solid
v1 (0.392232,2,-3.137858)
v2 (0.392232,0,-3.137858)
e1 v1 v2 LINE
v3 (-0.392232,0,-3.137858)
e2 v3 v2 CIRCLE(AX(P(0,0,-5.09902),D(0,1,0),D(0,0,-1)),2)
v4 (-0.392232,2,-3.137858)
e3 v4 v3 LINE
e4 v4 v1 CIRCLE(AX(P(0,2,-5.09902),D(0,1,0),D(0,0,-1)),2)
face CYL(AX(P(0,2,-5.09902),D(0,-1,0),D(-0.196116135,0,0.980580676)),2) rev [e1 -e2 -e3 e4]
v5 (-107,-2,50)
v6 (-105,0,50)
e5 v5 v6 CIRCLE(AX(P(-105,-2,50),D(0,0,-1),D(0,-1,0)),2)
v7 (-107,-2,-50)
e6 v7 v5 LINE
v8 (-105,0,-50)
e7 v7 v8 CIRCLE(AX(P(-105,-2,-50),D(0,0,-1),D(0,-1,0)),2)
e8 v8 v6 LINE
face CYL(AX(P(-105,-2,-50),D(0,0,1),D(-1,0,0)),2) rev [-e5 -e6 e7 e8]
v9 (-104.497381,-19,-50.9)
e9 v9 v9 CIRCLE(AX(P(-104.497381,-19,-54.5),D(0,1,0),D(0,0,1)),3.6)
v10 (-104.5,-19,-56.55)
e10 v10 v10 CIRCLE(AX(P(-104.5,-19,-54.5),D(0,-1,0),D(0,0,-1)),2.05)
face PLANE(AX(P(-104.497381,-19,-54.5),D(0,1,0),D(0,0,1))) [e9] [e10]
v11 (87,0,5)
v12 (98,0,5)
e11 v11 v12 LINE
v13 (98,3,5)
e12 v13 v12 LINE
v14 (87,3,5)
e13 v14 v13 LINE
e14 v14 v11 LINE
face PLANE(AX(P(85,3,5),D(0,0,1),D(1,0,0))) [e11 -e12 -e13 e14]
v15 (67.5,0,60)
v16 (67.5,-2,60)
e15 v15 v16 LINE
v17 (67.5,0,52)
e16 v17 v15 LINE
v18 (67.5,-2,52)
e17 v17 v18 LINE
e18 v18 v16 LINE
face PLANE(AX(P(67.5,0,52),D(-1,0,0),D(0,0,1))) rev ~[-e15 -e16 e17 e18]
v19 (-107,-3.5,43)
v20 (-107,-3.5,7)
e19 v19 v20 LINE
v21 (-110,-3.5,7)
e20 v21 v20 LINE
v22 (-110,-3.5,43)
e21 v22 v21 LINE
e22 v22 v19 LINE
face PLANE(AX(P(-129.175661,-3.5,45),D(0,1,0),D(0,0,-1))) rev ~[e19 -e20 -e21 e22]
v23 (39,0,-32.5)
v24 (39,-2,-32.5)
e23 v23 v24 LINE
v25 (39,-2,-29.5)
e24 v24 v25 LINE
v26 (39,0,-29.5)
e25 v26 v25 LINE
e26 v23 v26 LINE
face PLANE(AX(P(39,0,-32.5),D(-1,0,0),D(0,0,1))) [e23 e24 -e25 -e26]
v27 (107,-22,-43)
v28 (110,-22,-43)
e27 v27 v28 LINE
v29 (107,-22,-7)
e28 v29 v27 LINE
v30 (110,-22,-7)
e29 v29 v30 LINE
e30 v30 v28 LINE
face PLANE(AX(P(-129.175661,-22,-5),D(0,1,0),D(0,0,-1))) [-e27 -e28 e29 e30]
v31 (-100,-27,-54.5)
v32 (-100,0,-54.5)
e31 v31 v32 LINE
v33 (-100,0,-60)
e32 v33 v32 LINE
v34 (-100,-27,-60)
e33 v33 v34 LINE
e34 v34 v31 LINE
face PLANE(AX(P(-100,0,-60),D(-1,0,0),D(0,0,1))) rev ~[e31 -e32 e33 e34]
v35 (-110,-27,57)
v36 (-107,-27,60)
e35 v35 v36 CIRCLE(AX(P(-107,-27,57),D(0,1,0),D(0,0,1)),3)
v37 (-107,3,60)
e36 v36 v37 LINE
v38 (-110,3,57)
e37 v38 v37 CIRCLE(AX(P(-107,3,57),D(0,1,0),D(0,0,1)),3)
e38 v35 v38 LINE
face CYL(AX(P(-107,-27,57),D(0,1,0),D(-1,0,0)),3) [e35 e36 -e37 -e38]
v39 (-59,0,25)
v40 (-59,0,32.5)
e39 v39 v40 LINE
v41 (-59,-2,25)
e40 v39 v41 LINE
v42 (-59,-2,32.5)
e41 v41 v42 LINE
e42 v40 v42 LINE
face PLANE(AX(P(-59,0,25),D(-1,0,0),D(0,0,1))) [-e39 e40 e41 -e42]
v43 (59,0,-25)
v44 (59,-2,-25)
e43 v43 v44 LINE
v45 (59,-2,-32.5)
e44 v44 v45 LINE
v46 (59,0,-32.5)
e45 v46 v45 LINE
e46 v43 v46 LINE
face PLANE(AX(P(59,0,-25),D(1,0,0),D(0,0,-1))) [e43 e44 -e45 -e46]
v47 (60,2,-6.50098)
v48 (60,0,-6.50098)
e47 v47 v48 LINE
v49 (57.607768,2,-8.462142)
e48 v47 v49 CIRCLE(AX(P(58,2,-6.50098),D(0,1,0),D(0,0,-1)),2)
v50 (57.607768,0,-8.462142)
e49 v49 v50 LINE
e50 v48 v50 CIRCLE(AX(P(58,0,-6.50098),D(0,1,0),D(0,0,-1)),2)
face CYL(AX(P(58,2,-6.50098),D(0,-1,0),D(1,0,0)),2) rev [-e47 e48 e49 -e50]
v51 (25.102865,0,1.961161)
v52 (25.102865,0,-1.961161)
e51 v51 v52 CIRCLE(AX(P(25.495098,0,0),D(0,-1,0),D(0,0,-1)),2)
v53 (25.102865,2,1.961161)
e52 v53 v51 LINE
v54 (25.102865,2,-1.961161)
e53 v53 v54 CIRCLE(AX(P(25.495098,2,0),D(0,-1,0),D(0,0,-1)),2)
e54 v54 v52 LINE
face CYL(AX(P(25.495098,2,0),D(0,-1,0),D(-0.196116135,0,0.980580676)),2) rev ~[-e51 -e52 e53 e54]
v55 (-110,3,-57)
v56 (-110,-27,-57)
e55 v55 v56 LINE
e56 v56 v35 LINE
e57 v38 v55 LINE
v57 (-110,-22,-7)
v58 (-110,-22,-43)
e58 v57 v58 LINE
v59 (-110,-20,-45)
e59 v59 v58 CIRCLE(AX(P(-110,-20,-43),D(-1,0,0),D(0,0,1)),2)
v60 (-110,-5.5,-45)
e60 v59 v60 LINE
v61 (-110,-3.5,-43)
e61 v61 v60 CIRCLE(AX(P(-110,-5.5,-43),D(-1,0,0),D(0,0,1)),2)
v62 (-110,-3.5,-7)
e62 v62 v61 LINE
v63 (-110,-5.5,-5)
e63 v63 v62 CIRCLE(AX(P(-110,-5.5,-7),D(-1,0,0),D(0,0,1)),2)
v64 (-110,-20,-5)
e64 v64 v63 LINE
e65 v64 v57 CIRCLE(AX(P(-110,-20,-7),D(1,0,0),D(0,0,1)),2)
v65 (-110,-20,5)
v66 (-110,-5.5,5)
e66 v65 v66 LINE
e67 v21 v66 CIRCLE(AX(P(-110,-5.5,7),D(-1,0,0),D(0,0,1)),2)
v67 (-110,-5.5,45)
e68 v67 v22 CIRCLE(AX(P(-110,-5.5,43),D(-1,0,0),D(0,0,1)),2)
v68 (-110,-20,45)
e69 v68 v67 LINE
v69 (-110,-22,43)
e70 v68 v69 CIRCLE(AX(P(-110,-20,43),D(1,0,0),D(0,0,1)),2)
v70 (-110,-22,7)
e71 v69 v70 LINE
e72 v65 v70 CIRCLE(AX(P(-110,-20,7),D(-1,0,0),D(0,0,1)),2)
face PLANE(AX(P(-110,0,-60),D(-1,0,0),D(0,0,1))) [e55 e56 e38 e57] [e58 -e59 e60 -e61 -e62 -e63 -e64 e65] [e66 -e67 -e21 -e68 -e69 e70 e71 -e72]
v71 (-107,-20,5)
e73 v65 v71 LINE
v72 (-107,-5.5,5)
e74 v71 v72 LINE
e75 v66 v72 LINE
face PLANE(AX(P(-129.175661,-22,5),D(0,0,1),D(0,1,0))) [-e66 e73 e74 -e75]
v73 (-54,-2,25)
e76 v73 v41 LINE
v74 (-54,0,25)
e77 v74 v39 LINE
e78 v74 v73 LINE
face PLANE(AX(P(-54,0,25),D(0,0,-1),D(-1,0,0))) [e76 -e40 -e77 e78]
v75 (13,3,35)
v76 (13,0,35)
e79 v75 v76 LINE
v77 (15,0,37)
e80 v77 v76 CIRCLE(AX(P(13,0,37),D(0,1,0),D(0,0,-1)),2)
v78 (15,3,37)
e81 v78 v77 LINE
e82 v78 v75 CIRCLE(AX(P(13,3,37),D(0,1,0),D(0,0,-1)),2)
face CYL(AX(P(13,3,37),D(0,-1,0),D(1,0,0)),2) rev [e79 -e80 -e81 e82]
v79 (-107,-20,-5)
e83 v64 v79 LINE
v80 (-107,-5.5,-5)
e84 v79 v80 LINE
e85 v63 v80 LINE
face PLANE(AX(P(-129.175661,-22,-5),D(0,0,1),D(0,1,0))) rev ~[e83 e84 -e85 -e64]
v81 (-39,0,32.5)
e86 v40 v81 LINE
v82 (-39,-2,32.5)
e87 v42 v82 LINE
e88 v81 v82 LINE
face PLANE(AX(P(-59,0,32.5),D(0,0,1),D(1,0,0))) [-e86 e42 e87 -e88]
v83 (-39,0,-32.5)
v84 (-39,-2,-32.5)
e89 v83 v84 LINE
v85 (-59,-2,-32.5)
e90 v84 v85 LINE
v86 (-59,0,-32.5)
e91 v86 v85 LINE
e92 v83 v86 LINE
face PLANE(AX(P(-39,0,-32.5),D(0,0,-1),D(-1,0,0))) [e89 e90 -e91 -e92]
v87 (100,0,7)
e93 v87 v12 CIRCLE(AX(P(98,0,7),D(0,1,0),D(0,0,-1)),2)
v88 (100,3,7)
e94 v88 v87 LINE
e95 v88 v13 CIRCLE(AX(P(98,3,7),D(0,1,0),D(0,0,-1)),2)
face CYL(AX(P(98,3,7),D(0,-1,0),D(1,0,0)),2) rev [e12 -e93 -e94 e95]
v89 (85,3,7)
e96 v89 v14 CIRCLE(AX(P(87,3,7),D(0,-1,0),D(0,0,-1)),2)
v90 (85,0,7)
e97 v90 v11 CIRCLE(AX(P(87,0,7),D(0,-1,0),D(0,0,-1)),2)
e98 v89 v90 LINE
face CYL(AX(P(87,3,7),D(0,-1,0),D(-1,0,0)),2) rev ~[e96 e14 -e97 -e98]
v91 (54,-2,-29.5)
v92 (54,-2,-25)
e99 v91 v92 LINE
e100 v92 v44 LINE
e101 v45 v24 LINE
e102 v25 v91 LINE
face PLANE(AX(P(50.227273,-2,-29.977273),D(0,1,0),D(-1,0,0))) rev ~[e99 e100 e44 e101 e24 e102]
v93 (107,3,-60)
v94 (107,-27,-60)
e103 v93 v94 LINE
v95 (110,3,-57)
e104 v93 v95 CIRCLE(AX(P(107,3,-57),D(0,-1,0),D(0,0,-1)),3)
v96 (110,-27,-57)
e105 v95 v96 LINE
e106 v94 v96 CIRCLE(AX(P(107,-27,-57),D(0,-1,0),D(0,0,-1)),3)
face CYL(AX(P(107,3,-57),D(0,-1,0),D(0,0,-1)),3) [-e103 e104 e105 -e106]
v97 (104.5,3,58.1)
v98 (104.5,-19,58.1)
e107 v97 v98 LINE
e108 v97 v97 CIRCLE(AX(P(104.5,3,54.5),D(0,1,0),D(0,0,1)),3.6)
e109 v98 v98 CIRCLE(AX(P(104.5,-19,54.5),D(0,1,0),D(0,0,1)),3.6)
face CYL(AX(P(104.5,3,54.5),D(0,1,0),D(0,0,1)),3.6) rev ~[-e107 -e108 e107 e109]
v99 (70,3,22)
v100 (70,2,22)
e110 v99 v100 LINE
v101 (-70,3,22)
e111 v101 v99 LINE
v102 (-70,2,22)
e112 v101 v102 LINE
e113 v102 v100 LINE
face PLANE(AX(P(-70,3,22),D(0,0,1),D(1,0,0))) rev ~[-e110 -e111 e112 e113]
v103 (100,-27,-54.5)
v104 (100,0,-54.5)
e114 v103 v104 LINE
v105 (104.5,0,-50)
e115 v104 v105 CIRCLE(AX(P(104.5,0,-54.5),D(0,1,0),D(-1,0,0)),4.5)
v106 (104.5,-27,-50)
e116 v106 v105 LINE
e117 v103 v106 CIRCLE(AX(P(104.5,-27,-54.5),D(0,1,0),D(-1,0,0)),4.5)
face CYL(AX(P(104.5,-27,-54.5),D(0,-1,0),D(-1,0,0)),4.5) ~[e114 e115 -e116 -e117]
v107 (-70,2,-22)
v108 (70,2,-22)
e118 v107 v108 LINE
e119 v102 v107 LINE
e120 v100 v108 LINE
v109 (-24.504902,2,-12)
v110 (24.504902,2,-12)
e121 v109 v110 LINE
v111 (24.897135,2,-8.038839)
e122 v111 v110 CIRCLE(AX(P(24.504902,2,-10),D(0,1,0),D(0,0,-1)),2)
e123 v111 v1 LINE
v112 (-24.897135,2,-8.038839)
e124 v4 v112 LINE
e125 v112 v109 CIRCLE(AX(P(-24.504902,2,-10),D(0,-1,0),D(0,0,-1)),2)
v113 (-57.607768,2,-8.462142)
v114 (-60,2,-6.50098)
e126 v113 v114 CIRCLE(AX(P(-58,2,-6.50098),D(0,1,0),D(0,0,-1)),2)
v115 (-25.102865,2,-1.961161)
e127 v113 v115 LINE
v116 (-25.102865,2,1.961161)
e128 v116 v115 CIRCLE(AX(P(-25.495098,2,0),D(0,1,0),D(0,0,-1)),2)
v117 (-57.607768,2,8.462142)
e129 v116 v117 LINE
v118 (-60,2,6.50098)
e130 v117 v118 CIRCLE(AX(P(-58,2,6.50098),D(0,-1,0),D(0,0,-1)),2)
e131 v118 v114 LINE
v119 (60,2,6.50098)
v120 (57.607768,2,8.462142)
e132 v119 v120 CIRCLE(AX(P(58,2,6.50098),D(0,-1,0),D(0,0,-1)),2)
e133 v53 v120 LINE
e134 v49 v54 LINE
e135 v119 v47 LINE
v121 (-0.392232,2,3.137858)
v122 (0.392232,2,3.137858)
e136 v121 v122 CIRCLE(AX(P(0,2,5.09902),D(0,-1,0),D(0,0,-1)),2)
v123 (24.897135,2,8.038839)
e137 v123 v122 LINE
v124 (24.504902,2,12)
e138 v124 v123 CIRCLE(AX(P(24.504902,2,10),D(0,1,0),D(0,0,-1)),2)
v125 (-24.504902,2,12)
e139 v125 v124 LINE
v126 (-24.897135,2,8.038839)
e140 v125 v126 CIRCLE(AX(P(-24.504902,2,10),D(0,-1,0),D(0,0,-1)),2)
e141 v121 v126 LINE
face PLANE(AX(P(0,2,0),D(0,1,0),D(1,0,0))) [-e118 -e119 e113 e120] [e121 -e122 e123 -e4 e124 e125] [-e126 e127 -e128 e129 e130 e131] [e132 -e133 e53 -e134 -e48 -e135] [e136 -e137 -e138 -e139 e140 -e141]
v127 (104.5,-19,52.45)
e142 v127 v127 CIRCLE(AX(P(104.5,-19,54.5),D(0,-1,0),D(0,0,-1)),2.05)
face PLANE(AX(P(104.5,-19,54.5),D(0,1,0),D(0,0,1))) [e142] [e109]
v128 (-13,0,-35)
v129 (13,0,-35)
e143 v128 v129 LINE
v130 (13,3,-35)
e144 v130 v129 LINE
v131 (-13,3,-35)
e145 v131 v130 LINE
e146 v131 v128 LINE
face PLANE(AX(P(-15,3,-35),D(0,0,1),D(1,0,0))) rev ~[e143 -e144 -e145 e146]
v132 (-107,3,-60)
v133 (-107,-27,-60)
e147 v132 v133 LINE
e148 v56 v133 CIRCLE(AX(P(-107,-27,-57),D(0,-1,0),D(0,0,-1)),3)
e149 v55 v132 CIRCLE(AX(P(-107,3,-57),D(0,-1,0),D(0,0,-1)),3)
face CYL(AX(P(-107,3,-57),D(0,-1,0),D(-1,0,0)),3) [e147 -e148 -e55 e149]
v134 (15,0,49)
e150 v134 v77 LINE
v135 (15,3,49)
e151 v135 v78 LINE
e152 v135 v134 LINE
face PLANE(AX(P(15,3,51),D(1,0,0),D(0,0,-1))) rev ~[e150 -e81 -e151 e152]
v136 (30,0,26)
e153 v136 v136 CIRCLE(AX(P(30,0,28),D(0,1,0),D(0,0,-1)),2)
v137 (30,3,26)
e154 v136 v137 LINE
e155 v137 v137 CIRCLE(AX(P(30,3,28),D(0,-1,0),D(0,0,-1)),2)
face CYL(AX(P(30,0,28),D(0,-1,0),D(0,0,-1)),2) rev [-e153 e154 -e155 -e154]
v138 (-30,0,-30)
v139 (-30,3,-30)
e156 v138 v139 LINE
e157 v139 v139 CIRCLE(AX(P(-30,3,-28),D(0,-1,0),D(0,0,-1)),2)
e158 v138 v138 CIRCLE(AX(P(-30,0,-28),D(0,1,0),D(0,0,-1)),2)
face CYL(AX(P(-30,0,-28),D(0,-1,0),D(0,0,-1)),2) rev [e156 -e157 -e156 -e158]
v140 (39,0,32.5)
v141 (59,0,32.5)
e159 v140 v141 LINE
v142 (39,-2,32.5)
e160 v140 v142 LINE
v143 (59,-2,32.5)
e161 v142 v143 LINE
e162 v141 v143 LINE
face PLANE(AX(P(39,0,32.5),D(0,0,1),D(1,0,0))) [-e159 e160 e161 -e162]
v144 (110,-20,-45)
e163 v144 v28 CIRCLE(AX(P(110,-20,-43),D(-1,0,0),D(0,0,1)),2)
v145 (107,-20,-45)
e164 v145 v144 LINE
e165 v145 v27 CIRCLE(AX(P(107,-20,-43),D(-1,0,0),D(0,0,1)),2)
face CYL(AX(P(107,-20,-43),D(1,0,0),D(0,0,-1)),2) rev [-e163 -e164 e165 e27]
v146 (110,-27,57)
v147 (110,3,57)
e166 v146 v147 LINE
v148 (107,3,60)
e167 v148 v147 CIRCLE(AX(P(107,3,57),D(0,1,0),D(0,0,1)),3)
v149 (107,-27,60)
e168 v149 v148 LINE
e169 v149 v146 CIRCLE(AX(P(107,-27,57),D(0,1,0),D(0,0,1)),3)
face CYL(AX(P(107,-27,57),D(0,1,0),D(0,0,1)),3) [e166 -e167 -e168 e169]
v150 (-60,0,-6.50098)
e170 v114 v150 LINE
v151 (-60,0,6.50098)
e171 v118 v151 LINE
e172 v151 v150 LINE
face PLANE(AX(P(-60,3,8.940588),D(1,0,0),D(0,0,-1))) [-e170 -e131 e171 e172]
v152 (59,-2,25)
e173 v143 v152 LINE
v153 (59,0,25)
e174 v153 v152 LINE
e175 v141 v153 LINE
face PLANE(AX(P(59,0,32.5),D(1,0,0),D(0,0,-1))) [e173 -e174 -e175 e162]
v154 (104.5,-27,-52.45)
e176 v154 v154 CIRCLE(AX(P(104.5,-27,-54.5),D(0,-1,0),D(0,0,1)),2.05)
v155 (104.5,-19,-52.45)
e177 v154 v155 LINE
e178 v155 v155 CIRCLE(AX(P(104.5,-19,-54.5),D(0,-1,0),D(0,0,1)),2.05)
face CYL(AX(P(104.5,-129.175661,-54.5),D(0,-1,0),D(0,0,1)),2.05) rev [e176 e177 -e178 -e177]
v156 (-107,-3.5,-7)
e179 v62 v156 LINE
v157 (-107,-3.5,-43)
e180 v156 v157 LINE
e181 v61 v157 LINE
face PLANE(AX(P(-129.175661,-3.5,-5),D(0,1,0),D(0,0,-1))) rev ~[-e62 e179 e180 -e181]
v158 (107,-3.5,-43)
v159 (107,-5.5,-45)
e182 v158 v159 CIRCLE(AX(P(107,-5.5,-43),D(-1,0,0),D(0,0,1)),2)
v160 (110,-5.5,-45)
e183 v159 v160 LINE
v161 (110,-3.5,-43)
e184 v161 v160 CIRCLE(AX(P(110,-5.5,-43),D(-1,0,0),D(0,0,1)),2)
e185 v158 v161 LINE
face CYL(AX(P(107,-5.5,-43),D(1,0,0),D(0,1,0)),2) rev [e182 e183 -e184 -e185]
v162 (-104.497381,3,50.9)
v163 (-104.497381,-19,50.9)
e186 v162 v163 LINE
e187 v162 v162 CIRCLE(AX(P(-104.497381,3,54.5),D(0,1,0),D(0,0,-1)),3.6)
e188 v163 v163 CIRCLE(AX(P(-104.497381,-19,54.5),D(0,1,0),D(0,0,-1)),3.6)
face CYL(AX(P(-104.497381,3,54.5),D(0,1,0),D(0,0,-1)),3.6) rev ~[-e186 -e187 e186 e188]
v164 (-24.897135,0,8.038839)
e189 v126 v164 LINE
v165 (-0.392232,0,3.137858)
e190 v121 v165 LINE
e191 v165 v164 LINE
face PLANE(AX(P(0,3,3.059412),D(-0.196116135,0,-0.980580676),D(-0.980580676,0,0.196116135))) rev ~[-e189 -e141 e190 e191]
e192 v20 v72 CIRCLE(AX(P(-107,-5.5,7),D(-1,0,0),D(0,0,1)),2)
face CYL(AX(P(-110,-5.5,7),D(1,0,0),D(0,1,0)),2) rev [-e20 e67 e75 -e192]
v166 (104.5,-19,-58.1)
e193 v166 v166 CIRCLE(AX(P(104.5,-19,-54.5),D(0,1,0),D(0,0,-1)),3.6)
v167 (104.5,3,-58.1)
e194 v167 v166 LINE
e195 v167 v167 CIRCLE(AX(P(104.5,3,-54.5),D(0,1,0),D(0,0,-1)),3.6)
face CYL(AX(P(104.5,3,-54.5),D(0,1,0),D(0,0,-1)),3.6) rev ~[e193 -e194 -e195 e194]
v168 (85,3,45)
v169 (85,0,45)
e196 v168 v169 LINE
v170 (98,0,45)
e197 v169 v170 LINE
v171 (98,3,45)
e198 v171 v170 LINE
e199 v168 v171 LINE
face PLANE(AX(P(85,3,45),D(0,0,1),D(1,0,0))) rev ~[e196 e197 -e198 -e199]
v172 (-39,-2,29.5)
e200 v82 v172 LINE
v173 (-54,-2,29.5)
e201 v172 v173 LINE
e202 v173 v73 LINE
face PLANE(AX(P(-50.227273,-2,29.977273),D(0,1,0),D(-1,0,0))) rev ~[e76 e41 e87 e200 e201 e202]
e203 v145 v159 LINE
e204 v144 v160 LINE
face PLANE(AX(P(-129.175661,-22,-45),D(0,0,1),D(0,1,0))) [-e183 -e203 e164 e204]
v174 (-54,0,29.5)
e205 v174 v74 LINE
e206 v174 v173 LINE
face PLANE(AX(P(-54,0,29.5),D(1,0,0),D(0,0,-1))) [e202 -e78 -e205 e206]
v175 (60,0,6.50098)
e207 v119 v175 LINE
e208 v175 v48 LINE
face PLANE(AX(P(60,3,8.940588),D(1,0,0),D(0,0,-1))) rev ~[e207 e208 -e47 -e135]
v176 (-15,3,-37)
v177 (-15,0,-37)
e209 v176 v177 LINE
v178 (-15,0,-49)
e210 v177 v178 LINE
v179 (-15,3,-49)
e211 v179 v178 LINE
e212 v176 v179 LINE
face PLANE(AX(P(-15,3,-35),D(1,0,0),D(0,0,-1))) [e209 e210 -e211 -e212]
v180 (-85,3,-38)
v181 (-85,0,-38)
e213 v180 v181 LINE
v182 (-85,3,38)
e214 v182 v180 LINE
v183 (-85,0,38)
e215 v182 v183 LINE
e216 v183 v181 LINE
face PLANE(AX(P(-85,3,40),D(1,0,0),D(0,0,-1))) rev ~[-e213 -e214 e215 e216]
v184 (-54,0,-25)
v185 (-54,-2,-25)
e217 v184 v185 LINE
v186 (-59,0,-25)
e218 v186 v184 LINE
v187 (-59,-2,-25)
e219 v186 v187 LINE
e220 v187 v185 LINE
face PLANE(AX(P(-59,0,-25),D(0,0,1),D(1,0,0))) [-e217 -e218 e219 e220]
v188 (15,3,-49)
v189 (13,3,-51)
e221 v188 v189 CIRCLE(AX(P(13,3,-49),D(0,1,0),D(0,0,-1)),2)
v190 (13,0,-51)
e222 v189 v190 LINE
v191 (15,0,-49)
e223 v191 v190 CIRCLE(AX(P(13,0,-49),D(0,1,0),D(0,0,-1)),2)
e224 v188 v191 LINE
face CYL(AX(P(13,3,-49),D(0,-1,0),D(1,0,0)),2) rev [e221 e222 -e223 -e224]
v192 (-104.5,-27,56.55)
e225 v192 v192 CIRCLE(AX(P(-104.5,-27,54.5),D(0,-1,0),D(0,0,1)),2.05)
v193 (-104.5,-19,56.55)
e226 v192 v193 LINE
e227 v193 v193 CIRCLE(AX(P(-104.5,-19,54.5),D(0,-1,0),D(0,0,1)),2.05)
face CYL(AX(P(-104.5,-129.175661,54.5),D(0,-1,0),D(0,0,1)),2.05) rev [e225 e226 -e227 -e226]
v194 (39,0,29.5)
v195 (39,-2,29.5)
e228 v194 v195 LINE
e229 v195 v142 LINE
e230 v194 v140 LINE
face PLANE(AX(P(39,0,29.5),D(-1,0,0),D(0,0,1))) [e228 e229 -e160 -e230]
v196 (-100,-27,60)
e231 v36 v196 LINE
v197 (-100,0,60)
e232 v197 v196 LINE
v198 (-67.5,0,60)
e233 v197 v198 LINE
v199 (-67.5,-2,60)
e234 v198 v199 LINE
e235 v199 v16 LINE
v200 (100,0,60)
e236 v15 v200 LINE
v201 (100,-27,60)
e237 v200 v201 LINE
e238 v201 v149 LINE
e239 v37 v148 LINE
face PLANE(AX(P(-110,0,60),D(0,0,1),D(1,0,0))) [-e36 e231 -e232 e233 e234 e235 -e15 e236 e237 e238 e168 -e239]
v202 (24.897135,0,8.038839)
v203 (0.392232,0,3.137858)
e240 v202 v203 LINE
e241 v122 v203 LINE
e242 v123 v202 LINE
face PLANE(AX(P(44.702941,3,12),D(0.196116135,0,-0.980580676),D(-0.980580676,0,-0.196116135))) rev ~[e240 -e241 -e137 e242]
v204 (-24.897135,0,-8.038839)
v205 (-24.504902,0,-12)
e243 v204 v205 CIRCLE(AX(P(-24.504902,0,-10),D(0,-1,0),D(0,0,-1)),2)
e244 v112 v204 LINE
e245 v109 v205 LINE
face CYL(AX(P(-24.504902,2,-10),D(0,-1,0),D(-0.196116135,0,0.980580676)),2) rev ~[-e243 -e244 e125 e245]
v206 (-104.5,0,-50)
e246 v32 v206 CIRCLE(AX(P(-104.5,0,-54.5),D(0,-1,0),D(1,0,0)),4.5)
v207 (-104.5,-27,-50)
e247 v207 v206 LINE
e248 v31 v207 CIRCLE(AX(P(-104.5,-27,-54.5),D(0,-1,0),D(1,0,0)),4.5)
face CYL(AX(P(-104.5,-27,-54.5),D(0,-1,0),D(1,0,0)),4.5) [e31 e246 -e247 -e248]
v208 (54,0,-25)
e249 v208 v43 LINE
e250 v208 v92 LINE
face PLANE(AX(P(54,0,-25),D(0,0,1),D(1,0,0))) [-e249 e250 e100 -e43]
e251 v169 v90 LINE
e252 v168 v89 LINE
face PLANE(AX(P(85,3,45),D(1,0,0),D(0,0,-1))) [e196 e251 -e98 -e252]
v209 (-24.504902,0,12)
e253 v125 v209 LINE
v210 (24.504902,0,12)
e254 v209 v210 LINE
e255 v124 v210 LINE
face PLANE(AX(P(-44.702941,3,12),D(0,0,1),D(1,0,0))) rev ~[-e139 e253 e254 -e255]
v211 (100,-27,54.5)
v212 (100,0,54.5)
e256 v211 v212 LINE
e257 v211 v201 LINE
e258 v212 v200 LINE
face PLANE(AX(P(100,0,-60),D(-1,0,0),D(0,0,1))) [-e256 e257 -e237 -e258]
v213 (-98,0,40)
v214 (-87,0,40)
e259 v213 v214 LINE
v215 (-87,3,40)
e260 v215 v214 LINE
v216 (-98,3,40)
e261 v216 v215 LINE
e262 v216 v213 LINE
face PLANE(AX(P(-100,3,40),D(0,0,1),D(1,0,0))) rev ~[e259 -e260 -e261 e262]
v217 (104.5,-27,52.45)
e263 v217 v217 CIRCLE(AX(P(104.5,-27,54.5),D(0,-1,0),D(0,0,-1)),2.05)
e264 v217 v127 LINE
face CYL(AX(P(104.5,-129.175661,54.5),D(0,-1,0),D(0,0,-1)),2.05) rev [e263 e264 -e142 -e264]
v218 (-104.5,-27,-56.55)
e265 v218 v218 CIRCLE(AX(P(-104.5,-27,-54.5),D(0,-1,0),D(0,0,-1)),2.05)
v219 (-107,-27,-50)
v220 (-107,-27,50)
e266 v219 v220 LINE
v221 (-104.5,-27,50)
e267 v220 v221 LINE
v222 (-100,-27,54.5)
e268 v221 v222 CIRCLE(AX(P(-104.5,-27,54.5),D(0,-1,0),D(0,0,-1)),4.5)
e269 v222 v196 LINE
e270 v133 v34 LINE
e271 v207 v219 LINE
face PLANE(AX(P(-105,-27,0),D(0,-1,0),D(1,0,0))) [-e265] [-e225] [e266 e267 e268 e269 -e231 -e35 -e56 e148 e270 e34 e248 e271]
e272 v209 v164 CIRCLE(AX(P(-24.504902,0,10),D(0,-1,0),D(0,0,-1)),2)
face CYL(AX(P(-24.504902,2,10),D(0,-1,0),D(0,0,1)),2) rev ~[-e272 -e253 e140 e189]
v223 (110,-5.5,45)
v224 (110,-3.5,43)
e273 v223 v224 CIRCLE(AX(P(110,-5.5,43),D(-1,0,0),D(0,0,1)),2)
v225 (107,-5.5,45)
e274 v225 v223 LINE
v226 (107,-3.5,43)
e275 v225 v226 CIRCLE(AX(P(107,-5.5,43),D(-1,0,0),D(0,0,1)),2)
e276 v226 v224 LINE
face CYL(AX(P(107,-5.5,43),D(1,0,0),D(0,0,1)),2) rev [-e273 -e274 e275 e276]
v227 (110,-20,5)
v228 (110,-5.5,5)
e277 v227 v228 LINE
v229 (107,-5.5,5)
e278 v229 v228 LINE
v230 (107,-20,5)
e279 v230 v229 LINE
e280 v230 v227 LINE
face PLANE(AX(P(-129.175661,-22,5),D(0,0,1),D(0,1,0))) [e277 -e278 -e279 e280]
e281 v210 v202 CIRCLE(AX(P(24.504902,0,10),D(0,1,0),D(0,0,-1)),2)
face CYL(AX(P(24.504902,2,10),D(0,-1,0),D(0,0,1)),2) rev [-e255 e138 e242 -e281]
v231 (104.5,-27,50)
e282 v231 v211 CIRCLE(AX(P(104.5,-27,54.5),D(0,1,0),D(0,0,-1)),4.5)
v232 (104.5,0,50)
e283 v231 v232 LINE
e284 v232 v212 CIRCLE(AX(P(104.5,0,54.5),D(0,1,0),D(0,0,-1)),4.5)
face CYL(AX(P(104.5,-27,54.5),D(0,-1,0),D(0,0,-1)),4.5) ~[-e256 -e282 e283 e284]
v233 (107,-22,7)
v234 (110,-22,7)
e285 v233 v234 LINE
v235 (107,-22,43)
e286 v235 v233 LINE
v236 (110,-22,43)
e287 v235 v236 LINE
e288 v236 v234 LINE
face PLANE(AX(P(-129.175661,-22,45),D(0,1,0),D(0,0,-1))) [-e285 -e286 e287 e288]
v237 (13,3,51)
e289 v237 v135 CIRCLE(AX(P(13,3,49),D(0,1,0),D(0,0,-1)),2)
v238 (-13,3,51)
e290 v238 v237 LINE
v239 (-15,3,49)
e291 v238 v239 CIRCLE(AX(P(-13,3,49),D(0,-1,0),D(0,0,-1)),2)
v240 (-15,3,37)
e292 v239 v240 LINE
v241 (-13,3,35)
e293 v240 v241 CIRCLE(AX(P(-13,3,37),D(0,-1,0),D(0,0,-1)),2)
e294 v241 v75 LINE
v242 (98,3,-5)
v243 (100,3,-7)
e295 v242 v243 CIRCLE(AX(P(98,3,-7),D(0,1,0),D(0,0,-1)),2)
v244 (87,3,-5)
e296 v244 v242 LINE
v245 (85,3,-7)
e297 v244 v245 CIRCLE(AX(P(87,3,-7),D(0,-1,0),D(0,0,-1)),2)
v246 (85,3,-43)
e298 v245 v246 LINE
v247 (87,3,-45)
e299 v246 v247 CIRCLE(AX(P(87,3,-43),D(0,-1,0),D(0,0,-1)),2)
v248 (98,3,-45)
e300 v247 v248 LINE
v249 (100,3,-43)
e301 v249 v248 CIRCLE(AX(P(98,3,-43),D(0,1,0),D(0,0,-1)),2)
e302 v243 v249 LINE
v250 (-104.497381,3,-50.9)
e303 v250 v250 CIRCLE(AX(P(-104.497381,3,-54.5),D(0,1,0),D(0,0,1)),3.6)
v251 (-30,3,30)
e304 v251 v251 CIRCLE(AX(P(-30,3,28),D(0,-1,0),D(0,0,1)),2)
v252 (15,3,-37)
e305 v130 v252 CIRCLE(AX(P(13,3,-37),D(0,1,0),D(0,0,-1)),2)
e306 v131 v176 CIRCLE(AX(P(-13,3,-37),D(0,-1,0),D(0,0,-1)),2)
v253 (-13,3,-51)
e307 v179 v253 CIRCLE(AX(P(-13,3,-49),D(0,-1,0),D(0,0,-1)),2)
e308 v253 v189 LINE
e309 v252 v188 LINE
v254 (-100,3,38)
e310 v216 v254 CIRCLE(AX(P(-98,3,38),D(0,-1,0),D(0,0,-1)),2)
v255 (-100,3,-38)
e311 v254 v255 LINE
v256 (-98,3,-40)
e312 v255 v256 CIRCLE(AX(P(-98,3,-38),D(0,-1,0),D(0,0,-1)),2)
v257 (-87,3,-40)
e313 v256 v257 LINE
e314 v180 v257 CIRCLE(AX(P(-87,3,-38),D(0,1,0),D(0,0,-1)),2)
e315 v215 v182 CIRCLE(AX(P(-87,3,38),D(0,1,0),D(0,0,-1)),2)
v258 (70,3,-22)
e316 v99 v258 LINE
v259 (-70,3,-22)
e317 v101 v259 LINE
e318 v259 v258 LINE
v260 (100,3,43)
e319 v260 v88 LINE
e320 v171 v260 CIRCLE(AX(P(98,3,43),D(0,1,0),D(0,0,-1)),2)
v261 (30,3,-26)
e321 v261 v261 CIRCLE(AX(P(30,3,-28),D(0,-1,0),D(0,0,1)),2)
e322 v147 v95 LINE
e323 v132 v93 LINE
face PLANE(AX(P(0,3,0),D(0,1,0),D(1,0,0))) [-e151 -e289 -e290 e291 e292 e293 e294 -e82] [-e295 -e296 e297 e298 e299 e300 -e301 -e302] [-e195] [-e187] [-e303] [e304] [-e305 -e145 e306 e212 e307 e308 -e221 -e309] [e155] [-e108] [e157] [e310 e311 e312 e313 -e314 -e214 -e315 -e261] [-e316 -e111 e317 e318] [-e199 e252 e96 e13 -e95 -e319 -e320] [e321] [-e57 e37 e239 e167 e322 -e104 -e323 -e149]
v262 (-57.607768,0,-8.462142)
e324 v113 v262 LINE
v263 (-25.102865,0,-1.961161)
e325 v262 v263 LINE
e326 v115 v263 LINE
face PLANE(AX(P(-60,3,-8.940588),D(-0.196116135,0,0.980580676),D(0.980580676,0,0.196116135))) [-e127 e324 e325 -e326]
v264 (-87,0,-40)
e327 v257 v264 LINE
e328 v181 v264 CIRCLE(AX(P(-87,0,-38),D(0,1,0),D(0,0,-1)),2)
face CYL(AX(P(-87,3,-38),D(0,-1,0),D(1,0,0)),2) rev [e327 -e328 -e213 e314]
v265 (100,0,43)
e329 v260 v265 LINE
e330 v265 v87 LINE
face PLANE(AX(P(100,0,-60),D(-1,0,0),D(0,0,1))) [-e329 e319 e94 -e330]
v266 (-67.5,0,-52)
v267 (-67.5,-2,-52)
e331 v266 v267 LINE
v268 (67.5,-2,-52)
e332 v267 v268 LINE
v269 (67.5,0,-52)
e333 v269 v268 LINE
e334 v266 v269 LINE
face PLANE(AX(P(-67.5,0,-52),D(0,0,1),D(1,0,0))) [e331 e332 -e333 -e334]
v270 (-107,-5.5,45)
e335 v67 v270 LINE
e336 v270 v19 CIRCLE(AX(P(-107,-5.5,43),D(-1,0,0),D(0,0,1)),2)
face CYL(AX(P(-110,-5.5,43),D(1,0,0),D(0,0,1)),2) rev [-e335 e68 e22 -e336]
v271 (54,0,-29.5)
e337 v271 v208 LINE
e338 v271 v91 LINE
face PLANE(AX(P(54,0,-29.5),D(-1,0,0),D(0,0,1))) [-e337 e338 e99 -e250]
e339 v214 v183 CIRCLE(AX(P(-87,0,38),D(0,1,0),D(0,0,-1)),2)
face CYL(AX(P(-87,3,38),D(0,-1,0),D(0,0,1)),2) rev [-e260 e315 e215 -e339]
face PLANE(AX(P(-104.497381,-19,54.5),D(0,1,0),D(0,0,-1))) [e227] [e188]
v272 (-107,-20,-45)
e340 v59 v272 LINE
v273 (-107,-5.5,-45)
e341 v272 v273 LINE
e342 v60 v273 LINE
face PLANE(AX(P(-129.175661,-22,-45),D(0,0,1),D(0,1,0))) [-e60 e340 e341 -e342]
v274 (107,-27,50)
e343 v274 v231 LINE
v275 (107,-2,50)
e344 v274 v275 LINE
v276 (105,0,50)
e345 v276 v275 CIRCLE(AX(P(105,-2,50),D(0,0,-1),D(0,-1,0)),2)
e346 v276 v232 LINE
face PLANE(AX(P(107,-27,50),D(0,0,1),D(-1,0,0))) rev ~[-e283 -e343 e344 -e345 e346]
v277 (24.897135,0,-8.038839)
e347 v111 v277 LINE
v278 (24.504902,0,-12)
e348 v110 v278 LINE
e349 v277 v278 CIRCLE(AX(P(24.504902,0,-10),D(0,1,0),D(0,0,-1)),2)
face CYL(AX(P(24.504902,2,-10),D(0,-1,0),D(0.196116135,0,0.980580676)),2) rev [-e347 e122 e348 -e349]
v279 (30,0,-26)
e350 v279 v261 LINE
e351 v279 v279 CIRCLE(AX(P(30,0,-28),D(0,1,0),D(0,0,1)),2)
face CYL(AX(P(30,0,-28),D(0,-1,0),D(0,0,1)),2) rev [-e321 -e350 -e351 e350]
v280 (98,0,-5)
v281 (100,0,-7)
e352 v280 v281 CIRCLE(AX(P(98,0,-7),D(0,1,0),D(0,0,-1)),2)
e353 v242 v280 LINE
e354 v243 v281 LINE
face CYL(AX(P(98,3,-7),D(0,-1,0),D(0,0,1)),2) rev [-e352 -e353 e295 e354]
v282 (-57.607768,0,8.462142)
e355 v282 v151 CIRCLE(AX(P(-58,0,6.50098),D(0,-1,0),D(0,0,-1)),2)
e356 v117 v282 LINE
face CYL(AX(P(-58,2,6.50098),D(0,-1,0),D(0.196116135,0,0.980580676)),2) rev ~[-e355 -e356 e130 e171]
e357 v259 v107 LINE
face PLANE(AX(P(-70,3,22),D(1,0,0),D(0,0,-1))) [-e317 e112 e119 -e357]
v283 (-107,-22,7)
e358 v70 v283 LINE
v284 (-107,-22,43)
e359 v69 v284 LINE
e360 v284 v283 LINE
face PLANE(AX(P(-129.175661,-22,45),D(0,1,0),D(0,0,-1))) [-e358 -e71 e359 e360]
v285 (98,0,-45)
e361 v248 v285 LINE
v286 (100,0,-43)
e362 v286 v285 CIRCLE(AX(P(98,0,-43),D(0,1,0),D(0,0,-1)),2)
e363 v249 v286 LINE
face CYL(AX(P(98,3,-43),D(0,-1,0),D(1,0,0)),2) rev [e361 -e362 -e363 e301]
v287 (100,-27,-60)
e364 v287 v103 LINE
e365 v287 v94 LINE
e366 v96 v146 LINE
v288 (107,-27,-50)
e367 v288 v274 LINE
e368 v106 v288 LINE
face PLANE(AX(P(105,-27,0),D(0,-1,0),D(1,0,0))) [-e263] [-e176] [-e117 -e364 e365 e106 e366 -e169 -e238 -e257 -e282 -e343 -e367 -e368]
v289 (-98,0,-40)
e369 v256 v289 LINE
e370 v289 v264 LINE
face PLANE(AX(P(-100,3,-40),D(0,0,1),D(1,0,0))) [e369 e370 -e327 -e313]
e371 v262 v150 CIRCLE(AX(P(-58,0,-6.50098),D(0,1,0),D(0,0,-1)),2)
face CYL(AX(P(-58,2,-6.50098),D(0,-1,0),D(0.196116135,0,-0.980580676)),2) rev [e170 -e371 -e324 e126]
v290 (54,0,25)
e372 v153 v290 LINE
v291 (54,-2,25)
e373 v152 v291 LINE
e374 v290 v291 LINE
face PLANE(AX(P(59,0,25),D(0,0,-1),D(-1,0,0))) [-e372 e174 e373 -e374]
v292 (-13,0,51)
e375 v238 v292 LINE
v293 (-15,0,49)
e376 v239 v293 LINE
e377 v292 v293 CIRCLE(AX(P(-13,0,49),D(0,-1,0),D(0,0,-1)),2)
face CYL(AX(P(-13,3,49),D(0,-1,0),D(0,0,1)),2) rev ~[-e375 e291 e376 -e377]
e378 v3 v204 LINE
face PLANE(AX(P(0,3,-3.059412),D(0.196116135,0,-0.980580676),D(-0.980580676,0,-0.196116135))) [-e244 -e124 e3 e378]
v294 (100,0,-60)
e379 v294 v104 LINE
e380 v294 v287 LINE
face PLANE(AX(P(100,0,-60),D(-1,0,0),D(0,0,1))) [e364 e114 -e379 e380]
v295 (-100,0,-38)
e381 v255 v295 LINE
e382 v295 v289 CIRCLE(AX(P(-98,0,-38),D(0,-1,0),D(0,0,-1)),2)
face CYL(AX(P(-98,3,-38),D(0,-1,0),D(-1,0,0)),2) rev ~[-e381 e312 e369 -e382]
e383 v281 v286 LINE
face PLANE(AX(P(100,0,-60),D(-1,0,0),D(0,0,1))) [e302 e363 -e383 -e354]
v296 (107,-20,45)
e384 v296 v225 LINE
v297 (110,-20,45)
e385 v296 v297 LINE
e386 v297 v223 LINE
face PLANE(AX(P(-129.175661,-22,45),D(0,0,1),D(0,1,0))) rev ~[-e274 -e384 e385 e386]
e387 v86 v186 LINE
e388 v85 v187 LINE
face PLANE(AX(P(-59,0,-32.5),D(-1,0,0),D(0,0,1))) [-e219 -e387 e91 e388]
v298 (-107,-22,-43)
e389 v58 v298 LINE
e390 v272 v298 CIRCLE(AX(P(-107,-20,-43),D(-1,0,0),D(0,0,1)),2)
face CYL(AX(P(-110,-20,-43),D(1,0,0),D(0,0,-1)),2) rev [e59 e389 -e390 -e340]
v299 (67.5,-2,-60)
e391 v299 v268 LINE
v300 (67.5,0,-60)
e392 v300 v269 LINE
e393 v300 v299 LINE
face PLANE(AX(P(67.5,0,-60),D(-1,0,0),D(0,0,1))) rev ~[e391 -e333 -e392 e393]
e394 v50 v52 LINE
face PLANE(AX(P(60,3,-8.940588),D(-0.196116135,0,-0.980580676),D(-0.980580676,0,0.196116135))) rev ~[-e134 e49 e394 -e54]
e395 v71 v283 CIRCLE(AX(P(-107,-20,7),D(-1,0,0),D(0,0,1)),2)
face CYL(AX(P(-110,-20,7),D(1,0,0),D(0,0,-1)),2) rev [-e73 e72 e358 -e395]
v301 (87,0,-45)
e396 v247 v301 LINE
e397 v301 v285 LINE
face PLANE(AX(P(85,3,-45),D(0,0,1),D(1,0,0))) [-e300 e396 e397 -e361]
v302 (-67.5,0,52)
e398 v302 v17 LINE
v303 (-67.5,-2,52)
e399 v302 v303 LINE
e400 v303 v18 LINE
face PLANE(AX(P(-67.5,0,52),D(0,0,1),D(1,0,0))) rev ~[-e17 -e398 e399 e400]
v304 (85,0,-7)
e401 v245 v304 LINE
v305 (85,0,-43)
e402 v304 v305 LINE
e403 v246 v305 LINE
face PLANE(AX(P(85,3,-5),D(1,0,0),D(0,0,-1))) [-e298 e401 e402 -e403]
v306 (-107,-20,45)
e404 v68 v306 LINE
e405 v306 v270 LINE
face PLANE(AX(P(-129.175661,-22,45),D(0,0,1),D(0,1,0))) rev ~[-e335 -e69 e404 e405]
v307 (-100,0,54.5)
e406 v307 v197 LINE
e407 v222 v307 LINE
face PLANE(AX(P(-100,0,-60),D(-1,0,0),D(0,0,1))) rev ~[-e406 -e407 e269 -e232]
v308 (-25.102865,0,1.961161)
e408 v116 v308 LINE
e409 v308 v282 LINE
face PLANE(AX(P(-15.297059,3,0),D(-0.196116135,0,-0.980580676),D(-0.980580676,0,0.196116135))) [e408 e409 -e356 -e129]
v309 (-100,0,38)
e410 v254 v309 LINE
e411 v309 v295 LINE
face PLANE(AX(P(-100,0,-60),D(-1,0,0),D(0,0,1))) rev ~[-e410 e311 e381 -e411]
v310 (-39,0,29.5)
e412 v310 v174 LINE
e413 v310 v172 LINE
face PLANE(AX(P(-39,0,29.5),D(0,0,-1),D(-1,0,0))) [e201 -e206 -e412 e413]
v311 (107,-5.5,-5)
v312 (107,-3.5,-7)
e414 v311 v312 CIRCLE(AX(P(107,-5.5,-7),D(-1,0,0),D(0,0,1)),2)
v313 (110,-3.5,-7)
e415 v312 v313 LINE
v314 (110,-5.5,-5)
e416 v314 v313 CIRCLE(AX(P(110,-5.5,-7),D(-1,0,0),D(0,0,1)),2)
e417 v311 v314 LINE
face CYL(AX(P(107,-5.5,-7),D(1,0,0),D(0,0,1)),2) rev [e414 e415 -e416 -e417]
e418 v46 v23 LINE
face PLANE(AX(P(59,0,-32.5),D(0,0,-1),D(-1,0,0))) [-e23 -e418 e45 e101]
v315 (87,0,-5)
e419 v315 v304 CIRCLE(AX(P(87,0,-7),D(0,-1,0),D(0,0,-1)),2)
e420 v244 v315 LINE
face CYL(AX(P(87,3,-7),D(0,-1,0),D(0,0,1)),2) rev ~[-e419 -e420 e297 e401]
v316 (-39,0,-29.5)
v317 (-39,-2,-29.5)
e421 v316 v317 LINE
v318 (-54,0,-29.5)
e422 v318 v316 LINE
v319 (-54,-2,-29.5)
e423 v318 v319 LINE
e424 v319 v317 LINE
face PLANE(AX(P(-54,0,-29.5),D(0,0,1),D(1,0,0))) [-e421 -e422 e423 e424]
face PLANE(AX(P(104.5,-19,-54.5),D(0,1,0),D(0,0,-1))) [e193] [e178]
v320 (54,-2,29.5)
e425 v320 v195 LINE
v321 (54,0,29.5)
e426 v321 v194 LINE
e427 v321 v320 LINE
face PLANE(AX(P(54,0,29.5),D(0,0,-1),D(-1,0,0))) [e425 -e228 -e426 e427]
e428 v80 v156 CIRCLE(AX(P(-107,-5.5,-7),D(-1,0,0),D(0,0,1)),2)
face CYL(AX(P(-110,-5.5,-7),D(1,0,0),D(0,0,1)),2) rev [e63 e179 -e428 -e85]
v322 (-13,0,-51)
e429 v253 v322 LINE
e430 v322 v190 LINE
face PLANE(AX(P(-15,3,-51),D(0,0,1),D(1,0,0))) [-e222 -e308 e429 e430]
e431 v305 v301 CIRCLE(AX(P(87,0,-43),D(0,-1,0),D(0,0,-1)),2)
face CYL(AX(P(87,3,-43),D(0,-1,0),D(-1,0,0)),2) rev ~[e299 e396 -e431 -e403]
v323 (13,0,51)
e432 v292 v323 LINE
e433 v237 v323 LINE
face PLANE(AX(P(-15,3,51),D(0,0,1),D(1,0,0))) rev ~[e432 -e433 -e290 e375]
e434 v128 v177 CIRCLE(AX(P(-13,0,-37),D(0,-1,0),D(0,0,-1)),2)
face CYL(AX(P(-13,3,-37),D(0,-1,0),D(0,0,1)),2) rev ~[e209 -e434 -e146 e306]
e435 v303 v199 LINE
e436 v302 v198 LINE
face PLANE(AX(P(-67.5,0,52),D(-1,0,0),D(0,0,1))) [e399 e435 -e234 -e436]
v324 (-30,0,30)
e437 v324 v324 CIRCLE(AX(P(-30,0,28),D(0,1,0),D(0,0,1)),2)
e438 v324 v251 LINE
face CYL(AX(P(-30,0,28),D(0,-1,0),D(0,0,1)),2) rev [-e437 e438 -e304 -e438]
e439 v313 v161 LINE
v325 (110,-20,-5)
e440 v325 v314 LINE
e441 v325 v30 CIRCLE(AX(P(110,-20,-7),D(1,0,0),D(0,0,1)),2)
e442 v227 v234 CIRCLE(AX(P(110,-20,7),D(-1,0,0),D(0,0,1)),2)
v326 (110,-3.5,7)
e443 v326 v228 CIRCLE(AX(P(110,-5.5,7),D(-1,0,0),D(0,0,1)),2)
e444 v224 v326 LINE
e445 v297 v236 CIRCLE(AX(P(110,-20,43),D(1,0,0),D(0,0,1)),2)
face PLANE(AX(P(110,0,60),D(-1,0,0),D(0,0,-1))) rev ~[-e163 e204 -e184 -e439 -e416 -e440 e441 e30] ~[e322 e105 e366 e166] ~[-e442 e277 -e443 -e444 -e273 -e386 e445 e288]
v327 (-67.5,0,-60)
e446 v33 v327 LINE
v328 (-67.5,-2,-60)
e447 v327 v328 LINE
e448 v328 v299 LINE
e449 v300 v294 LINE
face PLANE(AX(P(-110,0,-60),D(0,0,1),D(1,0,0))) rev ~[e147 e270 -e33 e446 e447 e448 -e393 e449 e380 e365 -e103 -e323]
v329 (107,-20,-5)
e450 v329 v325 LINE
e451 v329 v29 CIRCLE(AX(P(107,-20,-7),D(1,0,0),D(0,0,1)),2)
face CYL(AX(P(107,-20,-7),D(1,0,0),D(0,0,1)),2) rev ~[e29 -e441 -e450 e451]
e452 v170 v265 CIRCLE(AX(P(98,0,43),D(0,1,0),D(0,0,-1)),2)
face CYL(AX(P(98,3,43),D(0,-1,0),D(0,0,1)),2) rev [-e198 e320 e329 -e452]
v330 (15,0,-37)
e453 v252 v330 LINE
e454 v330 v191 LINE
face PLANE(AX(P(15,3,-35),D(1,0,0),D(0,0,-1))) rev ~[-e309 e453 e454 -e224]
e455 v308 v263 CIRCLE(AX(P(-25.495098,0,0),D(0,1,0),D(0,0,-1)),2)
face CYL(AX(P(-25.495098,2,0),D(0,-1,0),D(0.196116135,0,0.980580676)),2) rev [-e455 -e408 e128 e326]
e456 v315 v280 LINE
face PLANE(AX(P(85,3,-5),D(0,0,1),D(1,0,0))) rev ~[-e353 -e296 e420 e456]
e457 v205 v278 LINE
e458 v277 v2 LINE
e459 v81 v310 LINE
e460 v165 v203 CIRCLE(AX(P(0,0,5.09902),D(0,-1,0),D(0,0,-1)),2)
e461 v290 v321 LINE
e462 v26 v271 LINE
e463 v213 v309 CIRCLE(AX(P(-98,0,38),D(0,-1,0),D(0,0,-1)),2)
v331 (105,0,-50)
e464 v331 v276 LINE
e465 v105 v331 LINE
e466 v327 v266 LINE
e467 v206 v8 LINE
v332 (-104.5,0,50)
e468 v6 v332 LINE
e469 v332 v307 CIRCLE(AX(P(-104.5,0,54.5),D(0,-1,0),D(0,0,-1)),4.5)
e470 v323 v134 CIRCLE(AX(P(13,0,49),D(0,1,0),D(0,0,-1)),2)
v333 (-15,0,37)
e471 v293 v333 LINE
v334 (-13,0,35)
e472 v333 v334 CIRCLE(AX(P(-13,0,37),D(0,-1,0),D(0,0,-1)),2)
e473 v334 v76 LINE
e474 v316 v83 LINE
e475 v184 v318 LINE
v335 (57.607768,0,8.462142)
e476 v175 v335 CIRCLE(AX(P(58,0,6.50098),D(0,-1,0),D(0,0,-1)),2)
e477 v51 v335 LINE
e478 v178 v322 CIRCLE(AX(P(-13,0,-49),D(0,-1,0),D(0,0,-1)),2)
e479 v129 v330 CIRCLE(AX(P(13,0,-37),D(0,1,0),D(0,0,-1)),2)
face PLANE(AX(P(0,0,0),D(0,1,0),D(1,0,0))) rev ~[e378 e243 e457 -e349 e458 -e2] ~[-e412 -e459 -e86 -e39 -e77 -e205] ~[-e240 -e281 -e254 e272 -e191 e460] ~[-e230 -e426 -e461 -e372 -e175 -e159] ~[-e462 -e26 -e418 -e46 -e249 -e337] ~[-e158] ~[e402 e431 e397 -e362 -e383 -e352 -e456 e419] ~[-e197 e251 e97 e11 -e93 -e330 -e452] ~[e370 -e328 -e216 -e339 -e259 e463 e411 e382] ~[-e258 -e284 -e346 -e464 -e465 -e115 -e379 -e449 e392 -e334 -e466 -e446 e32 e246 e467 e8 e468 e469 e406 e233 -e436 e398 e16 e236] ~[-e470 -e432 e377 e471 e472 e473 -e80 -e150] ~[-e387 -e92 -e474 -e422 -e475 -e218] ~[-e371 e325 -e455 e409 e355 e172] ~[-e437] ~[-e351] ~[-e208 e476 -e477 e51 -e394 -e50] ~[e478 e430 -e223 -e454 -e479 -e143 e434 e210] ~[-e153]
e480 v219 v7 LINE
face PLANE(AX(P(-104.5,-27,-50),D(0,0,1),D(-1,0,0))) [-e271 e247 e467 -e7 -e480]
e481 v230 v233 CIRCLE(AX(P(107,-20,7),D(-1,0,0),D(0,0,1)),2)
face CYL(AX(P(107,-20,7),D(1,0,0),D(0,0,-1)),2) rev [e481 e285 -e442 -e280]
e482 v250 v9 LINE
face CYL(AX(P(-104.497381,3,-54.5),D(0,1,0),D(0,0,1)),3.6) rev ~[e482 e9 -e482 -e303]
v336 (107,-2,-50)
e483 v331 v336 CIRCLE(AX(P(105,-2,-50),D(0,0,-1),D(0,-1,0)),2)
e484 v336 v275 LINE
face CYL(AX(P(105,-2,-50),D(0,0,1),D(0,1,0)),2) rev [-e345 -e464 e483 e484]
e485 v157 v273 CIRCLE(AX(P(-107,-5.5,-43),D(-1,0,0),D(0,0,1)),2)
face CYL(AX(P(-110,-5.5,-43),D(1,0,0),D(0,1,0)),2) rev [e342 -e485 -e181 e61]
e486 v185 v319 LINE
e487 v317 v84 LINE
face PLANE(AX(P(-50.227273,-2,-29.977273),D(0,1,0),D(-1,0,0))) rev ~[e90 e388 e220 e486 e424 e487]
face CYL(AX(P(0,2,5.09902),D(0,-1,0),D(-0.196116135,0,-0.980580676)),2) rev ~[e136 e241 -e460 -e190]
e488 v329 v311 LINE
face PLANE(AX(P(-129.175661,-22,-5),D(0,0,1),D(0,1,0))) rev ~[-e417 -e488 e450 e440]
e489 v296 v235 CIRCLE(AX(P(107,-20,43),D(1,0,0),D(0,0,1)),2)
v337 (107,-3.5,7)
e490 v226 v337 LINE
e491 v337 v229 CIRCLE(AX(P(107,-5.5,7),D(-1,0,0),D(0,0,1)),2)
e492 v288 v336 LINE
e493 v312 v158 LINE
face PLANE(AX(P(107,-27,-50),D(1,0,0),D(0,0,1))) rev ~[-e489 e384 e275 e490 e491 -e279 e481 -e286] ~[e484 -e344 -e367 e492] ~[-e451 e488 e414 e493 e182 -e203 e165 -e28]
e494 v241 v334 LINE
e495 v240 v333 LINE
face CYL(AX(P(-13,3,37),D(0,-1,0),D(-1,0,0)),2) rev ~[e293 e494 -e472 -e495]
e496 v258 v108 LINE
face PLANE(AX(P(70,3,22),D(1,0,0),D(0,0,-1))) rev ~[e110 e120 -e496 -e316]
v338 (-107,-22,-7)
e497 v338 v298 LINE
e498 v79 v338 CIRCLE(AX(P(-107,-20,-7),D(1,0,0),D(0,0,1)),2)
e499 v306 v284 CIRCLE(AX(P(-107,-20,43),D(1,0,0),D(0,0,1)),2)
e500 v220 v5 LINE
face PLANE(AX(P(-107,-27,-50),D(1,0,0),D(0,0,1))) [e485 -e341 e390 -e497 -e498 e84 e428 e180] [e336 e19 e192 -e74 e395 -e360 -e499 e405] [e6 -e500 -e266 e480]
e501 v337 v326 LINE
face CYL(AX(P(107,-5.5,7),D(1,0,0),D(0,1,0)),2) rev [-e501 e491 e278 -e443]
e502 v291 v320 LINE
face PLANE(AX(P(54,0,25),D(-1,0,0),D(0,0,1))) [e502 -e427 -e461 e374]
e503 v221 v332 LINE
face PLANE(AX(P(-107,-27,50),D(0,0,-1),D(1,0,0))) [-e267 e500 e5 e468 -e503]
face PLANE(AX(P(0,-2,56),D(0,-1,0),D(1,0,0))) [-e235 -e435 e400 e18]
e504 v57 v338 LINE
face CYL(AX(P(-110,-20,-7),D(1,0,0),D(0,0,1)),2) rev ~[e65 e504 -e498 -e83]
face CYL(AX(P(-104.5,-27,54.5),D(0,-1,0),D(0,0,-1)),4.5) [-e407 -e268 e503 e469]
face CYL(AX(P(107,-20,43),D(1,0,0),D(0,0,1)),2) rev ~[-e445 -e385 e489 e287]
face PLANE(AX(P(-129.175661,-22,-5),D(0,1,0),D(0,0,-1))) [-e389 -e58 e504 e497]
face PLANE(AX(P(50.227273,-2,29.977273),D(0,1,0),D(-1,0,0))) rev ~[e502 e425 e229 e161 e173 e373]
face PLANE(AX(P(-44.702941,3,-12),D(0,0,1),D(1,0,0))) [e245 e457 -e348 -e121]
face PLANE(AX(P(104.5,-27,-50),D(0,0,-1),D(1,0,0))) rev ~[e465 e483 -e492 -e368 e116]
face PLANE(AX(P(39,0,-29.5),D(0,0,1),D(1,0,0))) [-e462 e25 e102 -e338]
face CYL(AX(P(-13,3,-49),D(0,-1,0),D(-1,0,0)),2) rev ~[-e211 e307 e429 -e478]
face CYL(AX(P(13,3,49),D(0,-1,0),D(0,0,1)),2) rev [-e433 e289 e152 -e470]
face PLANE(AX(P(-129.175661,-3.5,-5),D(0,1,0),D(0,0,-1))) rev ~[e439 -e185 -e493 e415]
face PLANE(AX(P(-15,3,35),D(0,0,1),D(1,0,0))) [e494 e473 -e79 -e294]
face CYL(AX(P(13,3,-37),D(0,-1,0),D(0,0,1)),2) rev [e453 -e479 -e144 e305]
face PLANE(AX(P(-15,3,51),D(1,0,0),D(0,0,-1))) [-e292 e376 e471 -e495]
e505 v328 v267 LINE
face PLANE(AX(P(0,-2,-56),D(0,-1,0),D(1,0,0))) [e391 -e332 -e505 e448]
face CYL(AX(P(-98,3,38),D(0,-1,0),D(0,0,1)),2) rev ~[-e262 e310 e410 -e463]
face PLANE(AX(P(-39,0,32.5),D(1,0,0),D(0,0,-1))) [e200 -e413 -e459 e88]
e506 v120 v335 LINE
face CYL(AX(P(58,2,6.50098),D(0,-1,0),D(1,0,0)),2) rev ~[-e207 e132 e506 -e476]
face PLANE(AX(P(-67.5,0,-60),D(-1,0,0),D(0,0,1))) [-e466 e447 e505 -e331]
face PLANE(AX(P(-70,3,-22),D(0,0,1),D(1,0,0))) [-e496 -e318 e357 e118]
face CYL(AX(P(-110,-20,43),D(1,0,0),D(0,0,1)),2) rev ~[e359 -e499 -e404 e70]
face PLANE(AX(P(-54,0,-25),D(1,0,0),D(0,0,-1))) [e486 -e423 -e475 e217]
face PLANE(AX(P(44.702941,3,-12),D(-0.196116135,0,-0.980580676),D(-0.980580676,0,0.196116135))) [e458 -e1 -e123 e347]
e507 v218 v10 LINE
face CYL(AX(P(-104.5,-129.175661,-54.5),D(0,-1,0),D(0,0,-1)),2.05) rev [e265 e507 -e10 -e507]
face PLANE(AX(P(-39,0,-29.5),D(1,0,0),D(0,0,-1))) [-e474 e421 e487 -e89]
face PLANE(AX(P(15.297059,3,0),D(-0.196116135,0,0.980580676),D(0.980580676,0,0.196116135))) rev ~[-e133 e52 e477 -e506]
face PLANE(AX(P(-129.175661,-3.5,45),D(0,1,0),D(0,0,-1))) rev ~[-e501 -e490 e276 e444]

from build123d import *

# Parameters (mm, degrees)
SKETCH_8_W               = 220
SKETCH_8_H               = 120
EXTRUDE_6_DEPTH          = 3
SKETCH_10_W              = 10
SKETCH_10_H              = 120
EXTRUDE_7_DEPTH          = 27
CUT_EXTRUDE_1_DEPTH      = 129.175660716
CUT_EXTRUDE_1_DEPTH_BACK = 129.175660716
SKETCH_9_R               = 2.05
SKETCH_11_R              = 3.6
CUT_EXTRUDE_2_DEPTH      = 22
CUT_EXTRUDE_4_DEPTH      = 129.175660716
CUT_EXTRUDE_4_DEPTH_BACK = 129.175660716
SKETCH_13_W              = 40
SKETCH_13_H              = 18.5
SKETCH_14_W              = 140
SKETCH_14_H              = 44
CUT_EXTRUDE_7_DEPTH      = 1
SKETCH_15_W              = 15
SKETCH_15_H              = 80
SKETCH_15_H_2            = 40
SKETCH_15_W_2            = 30
SKETCH_15_H_3            = 16
CUT_EXTRUDE_8_DEPTH      = 129.840987267
SKETCH_9_5_R             = 2
CUT_EXTRUDE_9_DEPTH      = 129.175660716
CUT_EXTRUDE_13_DEPTH     = 27
SKETCH_20_W              = 135
SKETCH_20_H              = 8
EXTRUDE_8_DEPTH          = 2
FILLET_1_R               = 3
FILLET_2_R               = 2


with BuildPart() as part:
    # 草圖8 → 填料-伸長6 (new body)
    with BuildSketch(Plane(origin=(0, 0, 0), x_dir=(1, 0, 0), z_dir=(0, 1, 0))):
        Rectangle(SKETCH_8_W, SKETCH_8_H)
    extrude(amount=EXTRUDE_6_DEPTH)

    # 草圖10 → 填料-伸長7 (add)
    with BuildSketch(Plane.XZ):
        with Locations((-105, 0)):
            Rectangle(SKETCH_10_W, SKETCH_10_H)
        with Locations((105, 0)):
            Rectangle(SKETCH_10_W, SKETCH_10_H)
    extrude(amount=EXTRUDE_7_DEPTH)

    # 草圖9 → 除料-伸長1 (cut, two sides: drawn at the far end of the back side and taken through both)
    with BuildSketch(Plane(origin=(0, 0, 0), x_dir=(1, 0, 0), z_dir=(0, 1, 0)).offset(-CUT_EXTRUDE_1_DEPTH_BACK)):
        with Locations((104.5, 54.5)):
            Circle(SKETCH_9_R)
        with Locations((-104.5, 54.5)):
            Circle(SKETCH_9_R)
        with Locations((-104.5, -54.5)):
            Circle(SKETCH_9_R)
        with Locations((104.5, -54.5)):
            Circle(SKETCH_9_R)
    extrude(amount=CUT_EXTRUDE_1_DEPTH + CUT_EXTRUDE_1_DEPTH_BACK, mode=Mode.SUBTRACT)

    # 草圖11 → 除料-伸長2 (cut)
    with BuildSketch(Plane(origin=(0, 3, 0), x_dir=(1, 0, 0), z_dir=(0, 1, 0))):
        with Locations((-104.497380754, 54.5)):
            Circle(SKETCH_11_R)
        with Locations((-104.497380754, -54.5)):
            Circle(SKETCH_11_R)
        with Locations((104.5, -54.5)):
            Circle(SKETCH_11_R)
        with Locations((104.5, 54.5)):
            Circle(SKETCH_11_R)
    extrude(amount=-CUT_EXTRUDE_2_DEPTH, mode=Mode.SUBTRACT)

    # 草圖13 → 除料-伸長4 (cut, two sides: drawn at the far end of the back side and taken through both)
    with BuildSketch(Plane(origin=(0, 0, 0), x_dir=(0, 0, -1), z_dir=(1, 0, 0)).offset(-CUT_EXTRUDE_4_DEPTH_BACK)):
        with Locations((-25, -12.75)):
            Rectangle(SKETCH_13_W, SKETCH_13_H)
        with Locations((25, -12.75)):
            Rectangle(SKETCH_13_W, SKETCH_13_H)
    extrude(amount=CUT_EXTRUDE_4_DEPTH + CUT_EXTRUDE_4_DEPTH_BACK, mode=Mode.SUBTRACT)

    # 草圖14 → 除料-伸長7 (cut)
    with BuildSketch(Plane(origin=(0, 3, 0), x_dir=(1, 0, 0), z_dir=(0, 1, 0))):
        Rectangle(SKETCH_14_W, SKETCH_14_H)
    extrude(amount=-CUT_EXTRUDE_7_DEPTH, mode=Mode.SUBTRACT)

    # 草圖15 → 除料-伸長8 (cut, through all)
    with BuildSketch(Plane(origin=(0, 3, 0), x_dir=(1, 0, 0), z_dir=(0, 1, 0))):
        with Locations((-92.5, 0)):
            Rectangle(SKETCH_15_W, SKETCH_15_H)
        with Locations((92.5, 25)):
            Rectangle(SKETCH_15_W, SKETCH_15_H_2)
        Polygon((-44.702941459, -12), (44.702941459, -12), (0, -3.059411708), align=None)
        Polygon((-60, -8.940588292), (-60, 8.940588292), (-15.297058541, 0), align=None)
        Polygon((-44.702941459, 12), (44.702941459, 12), (0, 3.059411708), align=None)
        Polygon((60, -8.940588292), (60, 8.940588292), (15.297058541, 0), align=None)
        with Locations((0, -43)):
            Rectangle(SKETCH_15_W_2, SKETCH_15_H_3)
        with Locations((0, 43)):
            Rectangle(SKETCH_15_W_2, SKETCH_15_H_3)
        with Locations((92.5, -25)):
            Rectangle(SKETCH_15_W, SKETCH_15_H_2)
    extrude(amount=-CUT_EXTRUDE_8_DEPTH, mode=Mode.SUBTRACT)

    # 草圖9<5> → 除料-伸長9 (cut, through all)
    with BuildSketch(Plane(origin=(0, 0, 0), x_dir=(1, 0, 0), z_dir=(0, 1, 0))):
        with Locations((30, 28)):
            Circle(SKETCH_9_5_R)
        with Locations((-30, 28)):
            Circle(SKETCH_9_5_R)
        with Locations((30, -28)):
            Circle(SKETCH_9_5_R)
        with Locations((-30, -28)):
            Circle(SKETCH_9_5_R)
    extrude(amount=CUT_EXTRUDE_9_DEPTH, mode=Mode.SUBTRACT)

    # 草圖19 → 除料-伸長13 (cut)
    with BuildSketch(Plane.XZ.offset(27)):
        with BuildLine():
            Line((-100, 54.5), (-100, -54.5))
            ThreePointArc((-100, -54.5), (-101.318019485, -51.318019485), (-104.5, -50))
            Line((-104.5, -50), (-107, -50))
            Line((-107, -50), (-107, 50))
            Line((-107, 50), (-104.5, 50))
            ThreePointArc((-104.5, 50), (-101.318019485, 51.318019485), (-100, 54.5))
        make_face()
        with BuildLine():
            Line((100, 54.5), (100, -54.5))
            ThreePointArc((100, -54.5), (101.318019485, -51.318019485), (104.5, -50))
            Line((104.5, -50), (107, -50))
            Line((107, -50), (107, 50))
            Line((107, 50), (104.5, 50))
            ThreePointArc((104.5, 50), (101.318019485, 51.318019485), (100, 54.5))
        make_face()
    extrude(amount=-CUT_EXTRUDE_13_DEPTH, mode=Mode.SUBTRACT)

    # 草圖20 → 填料-伸長8 (add)
    with BuildSketch(Plane.XZ):
        with Locations((0, 56)):
            Rectangle(SKETCH_20_W, SKETCH_20_H)
        with Locations((0, -56)):
            Rectangle(SKETCH_20_W, SKETCH_20_H)
        Polygon((-59, 32.5), (-39, 32.5), (-39, 29.5), (-54, 29.5), (-54, 25), (-59, 25), align=None)
        Polygon((54, 29.5), (39, 29.5), (39, 32.5), (59, 32.5), (59, 25), (54, 25), align=None)
        Polygon((59, -32.5), (39, -32.5), (39, -29.5), (54, -29.5), (54, -25), (59, -25), align=None)
        Polygon((-54, -29.5), (-39, -29.5), (-39, -32.5), (-59, -32.5), (-59, -25), (-54, -25), align=None)
    extrude(amount=EXTRUDE_8_DEPTH)

    # 圓角1
    fillet_1_edges = [part.edges().sort_by_distance(p)[0] for p in [
        (-110, -12, 60),
        (-110, -12, -60),
        (110, -12, -60),
        (110, -12, 60),
    ]]
    fillet(fillet_1_edges, radius=FILLET_1_R)

    # 圓角2
    fillet_2_edges = [part.edges().sort_by_distance(p)[0] for p in [
        (-107, 0, 0),
        (107, 0, 0),
        (108.5, -3.5, -5),
        (108.5, -3.5, 45),
        (108.5, -22, 45),
        (108.5, -22, -5),
        (108.5, -3.5, -45),
        (108.5, -3.5, 5),
        (108.5, -22, 5),
        (108.5, -22, -45),
        (-108.5, -22, -45),
        (-108.5, -22, 5),
        (-108.5, -3.5, -45),
        (-108.5, -3.5, 5),
        (-108.5, -22, 45),
        (-108.5, -3.5, 45),
        (-108.5, -3.5, -5),
        (-108.5, -22, -5),
        (60, 1, -8.940588292),
        (44.702941459, 1, -12),
        (-44.702941459, 1, -12),
        (0, 1, 3.059411708),
        (-44.702941459, 1, 12),
        (44.702941459, 1, 12),
        (-15.297058541, 1, 0),
        (0, 1, -3.059411708),
        (60, 1, 8.940588292),
        (100, 1.5, -5),
        (15, 1.5, -35),
        (100, 1.5, 45),
        (15, 1.5, 51),
        (-85, 1.5, 40),
        (-15, 1.5, 51),
        (85, 1.5, -5),
        (15.297058541, 1, 0),
        (-100, 1.5, 40),
        (-15, 1.5, -35),
        (-60, 1, 8.940588292),
        (-60, 1, -8.940588292),
        (15, 1.5, 35),
        (-15, 1.5, 35),
        (85, 1.5, 5),
        (85, 1.5, -45),
        (100, 1.5, 5),
        (100, 1.5, -45),
        (15, 1.5, -51),
        (-15, 1.5, -51),
        (-85, 1.5, -40),
        (-100, 1.5, -40),
    ]]
    fillet(fillet_2_edges, radius=FILLET_2_R)


solid = part.part
